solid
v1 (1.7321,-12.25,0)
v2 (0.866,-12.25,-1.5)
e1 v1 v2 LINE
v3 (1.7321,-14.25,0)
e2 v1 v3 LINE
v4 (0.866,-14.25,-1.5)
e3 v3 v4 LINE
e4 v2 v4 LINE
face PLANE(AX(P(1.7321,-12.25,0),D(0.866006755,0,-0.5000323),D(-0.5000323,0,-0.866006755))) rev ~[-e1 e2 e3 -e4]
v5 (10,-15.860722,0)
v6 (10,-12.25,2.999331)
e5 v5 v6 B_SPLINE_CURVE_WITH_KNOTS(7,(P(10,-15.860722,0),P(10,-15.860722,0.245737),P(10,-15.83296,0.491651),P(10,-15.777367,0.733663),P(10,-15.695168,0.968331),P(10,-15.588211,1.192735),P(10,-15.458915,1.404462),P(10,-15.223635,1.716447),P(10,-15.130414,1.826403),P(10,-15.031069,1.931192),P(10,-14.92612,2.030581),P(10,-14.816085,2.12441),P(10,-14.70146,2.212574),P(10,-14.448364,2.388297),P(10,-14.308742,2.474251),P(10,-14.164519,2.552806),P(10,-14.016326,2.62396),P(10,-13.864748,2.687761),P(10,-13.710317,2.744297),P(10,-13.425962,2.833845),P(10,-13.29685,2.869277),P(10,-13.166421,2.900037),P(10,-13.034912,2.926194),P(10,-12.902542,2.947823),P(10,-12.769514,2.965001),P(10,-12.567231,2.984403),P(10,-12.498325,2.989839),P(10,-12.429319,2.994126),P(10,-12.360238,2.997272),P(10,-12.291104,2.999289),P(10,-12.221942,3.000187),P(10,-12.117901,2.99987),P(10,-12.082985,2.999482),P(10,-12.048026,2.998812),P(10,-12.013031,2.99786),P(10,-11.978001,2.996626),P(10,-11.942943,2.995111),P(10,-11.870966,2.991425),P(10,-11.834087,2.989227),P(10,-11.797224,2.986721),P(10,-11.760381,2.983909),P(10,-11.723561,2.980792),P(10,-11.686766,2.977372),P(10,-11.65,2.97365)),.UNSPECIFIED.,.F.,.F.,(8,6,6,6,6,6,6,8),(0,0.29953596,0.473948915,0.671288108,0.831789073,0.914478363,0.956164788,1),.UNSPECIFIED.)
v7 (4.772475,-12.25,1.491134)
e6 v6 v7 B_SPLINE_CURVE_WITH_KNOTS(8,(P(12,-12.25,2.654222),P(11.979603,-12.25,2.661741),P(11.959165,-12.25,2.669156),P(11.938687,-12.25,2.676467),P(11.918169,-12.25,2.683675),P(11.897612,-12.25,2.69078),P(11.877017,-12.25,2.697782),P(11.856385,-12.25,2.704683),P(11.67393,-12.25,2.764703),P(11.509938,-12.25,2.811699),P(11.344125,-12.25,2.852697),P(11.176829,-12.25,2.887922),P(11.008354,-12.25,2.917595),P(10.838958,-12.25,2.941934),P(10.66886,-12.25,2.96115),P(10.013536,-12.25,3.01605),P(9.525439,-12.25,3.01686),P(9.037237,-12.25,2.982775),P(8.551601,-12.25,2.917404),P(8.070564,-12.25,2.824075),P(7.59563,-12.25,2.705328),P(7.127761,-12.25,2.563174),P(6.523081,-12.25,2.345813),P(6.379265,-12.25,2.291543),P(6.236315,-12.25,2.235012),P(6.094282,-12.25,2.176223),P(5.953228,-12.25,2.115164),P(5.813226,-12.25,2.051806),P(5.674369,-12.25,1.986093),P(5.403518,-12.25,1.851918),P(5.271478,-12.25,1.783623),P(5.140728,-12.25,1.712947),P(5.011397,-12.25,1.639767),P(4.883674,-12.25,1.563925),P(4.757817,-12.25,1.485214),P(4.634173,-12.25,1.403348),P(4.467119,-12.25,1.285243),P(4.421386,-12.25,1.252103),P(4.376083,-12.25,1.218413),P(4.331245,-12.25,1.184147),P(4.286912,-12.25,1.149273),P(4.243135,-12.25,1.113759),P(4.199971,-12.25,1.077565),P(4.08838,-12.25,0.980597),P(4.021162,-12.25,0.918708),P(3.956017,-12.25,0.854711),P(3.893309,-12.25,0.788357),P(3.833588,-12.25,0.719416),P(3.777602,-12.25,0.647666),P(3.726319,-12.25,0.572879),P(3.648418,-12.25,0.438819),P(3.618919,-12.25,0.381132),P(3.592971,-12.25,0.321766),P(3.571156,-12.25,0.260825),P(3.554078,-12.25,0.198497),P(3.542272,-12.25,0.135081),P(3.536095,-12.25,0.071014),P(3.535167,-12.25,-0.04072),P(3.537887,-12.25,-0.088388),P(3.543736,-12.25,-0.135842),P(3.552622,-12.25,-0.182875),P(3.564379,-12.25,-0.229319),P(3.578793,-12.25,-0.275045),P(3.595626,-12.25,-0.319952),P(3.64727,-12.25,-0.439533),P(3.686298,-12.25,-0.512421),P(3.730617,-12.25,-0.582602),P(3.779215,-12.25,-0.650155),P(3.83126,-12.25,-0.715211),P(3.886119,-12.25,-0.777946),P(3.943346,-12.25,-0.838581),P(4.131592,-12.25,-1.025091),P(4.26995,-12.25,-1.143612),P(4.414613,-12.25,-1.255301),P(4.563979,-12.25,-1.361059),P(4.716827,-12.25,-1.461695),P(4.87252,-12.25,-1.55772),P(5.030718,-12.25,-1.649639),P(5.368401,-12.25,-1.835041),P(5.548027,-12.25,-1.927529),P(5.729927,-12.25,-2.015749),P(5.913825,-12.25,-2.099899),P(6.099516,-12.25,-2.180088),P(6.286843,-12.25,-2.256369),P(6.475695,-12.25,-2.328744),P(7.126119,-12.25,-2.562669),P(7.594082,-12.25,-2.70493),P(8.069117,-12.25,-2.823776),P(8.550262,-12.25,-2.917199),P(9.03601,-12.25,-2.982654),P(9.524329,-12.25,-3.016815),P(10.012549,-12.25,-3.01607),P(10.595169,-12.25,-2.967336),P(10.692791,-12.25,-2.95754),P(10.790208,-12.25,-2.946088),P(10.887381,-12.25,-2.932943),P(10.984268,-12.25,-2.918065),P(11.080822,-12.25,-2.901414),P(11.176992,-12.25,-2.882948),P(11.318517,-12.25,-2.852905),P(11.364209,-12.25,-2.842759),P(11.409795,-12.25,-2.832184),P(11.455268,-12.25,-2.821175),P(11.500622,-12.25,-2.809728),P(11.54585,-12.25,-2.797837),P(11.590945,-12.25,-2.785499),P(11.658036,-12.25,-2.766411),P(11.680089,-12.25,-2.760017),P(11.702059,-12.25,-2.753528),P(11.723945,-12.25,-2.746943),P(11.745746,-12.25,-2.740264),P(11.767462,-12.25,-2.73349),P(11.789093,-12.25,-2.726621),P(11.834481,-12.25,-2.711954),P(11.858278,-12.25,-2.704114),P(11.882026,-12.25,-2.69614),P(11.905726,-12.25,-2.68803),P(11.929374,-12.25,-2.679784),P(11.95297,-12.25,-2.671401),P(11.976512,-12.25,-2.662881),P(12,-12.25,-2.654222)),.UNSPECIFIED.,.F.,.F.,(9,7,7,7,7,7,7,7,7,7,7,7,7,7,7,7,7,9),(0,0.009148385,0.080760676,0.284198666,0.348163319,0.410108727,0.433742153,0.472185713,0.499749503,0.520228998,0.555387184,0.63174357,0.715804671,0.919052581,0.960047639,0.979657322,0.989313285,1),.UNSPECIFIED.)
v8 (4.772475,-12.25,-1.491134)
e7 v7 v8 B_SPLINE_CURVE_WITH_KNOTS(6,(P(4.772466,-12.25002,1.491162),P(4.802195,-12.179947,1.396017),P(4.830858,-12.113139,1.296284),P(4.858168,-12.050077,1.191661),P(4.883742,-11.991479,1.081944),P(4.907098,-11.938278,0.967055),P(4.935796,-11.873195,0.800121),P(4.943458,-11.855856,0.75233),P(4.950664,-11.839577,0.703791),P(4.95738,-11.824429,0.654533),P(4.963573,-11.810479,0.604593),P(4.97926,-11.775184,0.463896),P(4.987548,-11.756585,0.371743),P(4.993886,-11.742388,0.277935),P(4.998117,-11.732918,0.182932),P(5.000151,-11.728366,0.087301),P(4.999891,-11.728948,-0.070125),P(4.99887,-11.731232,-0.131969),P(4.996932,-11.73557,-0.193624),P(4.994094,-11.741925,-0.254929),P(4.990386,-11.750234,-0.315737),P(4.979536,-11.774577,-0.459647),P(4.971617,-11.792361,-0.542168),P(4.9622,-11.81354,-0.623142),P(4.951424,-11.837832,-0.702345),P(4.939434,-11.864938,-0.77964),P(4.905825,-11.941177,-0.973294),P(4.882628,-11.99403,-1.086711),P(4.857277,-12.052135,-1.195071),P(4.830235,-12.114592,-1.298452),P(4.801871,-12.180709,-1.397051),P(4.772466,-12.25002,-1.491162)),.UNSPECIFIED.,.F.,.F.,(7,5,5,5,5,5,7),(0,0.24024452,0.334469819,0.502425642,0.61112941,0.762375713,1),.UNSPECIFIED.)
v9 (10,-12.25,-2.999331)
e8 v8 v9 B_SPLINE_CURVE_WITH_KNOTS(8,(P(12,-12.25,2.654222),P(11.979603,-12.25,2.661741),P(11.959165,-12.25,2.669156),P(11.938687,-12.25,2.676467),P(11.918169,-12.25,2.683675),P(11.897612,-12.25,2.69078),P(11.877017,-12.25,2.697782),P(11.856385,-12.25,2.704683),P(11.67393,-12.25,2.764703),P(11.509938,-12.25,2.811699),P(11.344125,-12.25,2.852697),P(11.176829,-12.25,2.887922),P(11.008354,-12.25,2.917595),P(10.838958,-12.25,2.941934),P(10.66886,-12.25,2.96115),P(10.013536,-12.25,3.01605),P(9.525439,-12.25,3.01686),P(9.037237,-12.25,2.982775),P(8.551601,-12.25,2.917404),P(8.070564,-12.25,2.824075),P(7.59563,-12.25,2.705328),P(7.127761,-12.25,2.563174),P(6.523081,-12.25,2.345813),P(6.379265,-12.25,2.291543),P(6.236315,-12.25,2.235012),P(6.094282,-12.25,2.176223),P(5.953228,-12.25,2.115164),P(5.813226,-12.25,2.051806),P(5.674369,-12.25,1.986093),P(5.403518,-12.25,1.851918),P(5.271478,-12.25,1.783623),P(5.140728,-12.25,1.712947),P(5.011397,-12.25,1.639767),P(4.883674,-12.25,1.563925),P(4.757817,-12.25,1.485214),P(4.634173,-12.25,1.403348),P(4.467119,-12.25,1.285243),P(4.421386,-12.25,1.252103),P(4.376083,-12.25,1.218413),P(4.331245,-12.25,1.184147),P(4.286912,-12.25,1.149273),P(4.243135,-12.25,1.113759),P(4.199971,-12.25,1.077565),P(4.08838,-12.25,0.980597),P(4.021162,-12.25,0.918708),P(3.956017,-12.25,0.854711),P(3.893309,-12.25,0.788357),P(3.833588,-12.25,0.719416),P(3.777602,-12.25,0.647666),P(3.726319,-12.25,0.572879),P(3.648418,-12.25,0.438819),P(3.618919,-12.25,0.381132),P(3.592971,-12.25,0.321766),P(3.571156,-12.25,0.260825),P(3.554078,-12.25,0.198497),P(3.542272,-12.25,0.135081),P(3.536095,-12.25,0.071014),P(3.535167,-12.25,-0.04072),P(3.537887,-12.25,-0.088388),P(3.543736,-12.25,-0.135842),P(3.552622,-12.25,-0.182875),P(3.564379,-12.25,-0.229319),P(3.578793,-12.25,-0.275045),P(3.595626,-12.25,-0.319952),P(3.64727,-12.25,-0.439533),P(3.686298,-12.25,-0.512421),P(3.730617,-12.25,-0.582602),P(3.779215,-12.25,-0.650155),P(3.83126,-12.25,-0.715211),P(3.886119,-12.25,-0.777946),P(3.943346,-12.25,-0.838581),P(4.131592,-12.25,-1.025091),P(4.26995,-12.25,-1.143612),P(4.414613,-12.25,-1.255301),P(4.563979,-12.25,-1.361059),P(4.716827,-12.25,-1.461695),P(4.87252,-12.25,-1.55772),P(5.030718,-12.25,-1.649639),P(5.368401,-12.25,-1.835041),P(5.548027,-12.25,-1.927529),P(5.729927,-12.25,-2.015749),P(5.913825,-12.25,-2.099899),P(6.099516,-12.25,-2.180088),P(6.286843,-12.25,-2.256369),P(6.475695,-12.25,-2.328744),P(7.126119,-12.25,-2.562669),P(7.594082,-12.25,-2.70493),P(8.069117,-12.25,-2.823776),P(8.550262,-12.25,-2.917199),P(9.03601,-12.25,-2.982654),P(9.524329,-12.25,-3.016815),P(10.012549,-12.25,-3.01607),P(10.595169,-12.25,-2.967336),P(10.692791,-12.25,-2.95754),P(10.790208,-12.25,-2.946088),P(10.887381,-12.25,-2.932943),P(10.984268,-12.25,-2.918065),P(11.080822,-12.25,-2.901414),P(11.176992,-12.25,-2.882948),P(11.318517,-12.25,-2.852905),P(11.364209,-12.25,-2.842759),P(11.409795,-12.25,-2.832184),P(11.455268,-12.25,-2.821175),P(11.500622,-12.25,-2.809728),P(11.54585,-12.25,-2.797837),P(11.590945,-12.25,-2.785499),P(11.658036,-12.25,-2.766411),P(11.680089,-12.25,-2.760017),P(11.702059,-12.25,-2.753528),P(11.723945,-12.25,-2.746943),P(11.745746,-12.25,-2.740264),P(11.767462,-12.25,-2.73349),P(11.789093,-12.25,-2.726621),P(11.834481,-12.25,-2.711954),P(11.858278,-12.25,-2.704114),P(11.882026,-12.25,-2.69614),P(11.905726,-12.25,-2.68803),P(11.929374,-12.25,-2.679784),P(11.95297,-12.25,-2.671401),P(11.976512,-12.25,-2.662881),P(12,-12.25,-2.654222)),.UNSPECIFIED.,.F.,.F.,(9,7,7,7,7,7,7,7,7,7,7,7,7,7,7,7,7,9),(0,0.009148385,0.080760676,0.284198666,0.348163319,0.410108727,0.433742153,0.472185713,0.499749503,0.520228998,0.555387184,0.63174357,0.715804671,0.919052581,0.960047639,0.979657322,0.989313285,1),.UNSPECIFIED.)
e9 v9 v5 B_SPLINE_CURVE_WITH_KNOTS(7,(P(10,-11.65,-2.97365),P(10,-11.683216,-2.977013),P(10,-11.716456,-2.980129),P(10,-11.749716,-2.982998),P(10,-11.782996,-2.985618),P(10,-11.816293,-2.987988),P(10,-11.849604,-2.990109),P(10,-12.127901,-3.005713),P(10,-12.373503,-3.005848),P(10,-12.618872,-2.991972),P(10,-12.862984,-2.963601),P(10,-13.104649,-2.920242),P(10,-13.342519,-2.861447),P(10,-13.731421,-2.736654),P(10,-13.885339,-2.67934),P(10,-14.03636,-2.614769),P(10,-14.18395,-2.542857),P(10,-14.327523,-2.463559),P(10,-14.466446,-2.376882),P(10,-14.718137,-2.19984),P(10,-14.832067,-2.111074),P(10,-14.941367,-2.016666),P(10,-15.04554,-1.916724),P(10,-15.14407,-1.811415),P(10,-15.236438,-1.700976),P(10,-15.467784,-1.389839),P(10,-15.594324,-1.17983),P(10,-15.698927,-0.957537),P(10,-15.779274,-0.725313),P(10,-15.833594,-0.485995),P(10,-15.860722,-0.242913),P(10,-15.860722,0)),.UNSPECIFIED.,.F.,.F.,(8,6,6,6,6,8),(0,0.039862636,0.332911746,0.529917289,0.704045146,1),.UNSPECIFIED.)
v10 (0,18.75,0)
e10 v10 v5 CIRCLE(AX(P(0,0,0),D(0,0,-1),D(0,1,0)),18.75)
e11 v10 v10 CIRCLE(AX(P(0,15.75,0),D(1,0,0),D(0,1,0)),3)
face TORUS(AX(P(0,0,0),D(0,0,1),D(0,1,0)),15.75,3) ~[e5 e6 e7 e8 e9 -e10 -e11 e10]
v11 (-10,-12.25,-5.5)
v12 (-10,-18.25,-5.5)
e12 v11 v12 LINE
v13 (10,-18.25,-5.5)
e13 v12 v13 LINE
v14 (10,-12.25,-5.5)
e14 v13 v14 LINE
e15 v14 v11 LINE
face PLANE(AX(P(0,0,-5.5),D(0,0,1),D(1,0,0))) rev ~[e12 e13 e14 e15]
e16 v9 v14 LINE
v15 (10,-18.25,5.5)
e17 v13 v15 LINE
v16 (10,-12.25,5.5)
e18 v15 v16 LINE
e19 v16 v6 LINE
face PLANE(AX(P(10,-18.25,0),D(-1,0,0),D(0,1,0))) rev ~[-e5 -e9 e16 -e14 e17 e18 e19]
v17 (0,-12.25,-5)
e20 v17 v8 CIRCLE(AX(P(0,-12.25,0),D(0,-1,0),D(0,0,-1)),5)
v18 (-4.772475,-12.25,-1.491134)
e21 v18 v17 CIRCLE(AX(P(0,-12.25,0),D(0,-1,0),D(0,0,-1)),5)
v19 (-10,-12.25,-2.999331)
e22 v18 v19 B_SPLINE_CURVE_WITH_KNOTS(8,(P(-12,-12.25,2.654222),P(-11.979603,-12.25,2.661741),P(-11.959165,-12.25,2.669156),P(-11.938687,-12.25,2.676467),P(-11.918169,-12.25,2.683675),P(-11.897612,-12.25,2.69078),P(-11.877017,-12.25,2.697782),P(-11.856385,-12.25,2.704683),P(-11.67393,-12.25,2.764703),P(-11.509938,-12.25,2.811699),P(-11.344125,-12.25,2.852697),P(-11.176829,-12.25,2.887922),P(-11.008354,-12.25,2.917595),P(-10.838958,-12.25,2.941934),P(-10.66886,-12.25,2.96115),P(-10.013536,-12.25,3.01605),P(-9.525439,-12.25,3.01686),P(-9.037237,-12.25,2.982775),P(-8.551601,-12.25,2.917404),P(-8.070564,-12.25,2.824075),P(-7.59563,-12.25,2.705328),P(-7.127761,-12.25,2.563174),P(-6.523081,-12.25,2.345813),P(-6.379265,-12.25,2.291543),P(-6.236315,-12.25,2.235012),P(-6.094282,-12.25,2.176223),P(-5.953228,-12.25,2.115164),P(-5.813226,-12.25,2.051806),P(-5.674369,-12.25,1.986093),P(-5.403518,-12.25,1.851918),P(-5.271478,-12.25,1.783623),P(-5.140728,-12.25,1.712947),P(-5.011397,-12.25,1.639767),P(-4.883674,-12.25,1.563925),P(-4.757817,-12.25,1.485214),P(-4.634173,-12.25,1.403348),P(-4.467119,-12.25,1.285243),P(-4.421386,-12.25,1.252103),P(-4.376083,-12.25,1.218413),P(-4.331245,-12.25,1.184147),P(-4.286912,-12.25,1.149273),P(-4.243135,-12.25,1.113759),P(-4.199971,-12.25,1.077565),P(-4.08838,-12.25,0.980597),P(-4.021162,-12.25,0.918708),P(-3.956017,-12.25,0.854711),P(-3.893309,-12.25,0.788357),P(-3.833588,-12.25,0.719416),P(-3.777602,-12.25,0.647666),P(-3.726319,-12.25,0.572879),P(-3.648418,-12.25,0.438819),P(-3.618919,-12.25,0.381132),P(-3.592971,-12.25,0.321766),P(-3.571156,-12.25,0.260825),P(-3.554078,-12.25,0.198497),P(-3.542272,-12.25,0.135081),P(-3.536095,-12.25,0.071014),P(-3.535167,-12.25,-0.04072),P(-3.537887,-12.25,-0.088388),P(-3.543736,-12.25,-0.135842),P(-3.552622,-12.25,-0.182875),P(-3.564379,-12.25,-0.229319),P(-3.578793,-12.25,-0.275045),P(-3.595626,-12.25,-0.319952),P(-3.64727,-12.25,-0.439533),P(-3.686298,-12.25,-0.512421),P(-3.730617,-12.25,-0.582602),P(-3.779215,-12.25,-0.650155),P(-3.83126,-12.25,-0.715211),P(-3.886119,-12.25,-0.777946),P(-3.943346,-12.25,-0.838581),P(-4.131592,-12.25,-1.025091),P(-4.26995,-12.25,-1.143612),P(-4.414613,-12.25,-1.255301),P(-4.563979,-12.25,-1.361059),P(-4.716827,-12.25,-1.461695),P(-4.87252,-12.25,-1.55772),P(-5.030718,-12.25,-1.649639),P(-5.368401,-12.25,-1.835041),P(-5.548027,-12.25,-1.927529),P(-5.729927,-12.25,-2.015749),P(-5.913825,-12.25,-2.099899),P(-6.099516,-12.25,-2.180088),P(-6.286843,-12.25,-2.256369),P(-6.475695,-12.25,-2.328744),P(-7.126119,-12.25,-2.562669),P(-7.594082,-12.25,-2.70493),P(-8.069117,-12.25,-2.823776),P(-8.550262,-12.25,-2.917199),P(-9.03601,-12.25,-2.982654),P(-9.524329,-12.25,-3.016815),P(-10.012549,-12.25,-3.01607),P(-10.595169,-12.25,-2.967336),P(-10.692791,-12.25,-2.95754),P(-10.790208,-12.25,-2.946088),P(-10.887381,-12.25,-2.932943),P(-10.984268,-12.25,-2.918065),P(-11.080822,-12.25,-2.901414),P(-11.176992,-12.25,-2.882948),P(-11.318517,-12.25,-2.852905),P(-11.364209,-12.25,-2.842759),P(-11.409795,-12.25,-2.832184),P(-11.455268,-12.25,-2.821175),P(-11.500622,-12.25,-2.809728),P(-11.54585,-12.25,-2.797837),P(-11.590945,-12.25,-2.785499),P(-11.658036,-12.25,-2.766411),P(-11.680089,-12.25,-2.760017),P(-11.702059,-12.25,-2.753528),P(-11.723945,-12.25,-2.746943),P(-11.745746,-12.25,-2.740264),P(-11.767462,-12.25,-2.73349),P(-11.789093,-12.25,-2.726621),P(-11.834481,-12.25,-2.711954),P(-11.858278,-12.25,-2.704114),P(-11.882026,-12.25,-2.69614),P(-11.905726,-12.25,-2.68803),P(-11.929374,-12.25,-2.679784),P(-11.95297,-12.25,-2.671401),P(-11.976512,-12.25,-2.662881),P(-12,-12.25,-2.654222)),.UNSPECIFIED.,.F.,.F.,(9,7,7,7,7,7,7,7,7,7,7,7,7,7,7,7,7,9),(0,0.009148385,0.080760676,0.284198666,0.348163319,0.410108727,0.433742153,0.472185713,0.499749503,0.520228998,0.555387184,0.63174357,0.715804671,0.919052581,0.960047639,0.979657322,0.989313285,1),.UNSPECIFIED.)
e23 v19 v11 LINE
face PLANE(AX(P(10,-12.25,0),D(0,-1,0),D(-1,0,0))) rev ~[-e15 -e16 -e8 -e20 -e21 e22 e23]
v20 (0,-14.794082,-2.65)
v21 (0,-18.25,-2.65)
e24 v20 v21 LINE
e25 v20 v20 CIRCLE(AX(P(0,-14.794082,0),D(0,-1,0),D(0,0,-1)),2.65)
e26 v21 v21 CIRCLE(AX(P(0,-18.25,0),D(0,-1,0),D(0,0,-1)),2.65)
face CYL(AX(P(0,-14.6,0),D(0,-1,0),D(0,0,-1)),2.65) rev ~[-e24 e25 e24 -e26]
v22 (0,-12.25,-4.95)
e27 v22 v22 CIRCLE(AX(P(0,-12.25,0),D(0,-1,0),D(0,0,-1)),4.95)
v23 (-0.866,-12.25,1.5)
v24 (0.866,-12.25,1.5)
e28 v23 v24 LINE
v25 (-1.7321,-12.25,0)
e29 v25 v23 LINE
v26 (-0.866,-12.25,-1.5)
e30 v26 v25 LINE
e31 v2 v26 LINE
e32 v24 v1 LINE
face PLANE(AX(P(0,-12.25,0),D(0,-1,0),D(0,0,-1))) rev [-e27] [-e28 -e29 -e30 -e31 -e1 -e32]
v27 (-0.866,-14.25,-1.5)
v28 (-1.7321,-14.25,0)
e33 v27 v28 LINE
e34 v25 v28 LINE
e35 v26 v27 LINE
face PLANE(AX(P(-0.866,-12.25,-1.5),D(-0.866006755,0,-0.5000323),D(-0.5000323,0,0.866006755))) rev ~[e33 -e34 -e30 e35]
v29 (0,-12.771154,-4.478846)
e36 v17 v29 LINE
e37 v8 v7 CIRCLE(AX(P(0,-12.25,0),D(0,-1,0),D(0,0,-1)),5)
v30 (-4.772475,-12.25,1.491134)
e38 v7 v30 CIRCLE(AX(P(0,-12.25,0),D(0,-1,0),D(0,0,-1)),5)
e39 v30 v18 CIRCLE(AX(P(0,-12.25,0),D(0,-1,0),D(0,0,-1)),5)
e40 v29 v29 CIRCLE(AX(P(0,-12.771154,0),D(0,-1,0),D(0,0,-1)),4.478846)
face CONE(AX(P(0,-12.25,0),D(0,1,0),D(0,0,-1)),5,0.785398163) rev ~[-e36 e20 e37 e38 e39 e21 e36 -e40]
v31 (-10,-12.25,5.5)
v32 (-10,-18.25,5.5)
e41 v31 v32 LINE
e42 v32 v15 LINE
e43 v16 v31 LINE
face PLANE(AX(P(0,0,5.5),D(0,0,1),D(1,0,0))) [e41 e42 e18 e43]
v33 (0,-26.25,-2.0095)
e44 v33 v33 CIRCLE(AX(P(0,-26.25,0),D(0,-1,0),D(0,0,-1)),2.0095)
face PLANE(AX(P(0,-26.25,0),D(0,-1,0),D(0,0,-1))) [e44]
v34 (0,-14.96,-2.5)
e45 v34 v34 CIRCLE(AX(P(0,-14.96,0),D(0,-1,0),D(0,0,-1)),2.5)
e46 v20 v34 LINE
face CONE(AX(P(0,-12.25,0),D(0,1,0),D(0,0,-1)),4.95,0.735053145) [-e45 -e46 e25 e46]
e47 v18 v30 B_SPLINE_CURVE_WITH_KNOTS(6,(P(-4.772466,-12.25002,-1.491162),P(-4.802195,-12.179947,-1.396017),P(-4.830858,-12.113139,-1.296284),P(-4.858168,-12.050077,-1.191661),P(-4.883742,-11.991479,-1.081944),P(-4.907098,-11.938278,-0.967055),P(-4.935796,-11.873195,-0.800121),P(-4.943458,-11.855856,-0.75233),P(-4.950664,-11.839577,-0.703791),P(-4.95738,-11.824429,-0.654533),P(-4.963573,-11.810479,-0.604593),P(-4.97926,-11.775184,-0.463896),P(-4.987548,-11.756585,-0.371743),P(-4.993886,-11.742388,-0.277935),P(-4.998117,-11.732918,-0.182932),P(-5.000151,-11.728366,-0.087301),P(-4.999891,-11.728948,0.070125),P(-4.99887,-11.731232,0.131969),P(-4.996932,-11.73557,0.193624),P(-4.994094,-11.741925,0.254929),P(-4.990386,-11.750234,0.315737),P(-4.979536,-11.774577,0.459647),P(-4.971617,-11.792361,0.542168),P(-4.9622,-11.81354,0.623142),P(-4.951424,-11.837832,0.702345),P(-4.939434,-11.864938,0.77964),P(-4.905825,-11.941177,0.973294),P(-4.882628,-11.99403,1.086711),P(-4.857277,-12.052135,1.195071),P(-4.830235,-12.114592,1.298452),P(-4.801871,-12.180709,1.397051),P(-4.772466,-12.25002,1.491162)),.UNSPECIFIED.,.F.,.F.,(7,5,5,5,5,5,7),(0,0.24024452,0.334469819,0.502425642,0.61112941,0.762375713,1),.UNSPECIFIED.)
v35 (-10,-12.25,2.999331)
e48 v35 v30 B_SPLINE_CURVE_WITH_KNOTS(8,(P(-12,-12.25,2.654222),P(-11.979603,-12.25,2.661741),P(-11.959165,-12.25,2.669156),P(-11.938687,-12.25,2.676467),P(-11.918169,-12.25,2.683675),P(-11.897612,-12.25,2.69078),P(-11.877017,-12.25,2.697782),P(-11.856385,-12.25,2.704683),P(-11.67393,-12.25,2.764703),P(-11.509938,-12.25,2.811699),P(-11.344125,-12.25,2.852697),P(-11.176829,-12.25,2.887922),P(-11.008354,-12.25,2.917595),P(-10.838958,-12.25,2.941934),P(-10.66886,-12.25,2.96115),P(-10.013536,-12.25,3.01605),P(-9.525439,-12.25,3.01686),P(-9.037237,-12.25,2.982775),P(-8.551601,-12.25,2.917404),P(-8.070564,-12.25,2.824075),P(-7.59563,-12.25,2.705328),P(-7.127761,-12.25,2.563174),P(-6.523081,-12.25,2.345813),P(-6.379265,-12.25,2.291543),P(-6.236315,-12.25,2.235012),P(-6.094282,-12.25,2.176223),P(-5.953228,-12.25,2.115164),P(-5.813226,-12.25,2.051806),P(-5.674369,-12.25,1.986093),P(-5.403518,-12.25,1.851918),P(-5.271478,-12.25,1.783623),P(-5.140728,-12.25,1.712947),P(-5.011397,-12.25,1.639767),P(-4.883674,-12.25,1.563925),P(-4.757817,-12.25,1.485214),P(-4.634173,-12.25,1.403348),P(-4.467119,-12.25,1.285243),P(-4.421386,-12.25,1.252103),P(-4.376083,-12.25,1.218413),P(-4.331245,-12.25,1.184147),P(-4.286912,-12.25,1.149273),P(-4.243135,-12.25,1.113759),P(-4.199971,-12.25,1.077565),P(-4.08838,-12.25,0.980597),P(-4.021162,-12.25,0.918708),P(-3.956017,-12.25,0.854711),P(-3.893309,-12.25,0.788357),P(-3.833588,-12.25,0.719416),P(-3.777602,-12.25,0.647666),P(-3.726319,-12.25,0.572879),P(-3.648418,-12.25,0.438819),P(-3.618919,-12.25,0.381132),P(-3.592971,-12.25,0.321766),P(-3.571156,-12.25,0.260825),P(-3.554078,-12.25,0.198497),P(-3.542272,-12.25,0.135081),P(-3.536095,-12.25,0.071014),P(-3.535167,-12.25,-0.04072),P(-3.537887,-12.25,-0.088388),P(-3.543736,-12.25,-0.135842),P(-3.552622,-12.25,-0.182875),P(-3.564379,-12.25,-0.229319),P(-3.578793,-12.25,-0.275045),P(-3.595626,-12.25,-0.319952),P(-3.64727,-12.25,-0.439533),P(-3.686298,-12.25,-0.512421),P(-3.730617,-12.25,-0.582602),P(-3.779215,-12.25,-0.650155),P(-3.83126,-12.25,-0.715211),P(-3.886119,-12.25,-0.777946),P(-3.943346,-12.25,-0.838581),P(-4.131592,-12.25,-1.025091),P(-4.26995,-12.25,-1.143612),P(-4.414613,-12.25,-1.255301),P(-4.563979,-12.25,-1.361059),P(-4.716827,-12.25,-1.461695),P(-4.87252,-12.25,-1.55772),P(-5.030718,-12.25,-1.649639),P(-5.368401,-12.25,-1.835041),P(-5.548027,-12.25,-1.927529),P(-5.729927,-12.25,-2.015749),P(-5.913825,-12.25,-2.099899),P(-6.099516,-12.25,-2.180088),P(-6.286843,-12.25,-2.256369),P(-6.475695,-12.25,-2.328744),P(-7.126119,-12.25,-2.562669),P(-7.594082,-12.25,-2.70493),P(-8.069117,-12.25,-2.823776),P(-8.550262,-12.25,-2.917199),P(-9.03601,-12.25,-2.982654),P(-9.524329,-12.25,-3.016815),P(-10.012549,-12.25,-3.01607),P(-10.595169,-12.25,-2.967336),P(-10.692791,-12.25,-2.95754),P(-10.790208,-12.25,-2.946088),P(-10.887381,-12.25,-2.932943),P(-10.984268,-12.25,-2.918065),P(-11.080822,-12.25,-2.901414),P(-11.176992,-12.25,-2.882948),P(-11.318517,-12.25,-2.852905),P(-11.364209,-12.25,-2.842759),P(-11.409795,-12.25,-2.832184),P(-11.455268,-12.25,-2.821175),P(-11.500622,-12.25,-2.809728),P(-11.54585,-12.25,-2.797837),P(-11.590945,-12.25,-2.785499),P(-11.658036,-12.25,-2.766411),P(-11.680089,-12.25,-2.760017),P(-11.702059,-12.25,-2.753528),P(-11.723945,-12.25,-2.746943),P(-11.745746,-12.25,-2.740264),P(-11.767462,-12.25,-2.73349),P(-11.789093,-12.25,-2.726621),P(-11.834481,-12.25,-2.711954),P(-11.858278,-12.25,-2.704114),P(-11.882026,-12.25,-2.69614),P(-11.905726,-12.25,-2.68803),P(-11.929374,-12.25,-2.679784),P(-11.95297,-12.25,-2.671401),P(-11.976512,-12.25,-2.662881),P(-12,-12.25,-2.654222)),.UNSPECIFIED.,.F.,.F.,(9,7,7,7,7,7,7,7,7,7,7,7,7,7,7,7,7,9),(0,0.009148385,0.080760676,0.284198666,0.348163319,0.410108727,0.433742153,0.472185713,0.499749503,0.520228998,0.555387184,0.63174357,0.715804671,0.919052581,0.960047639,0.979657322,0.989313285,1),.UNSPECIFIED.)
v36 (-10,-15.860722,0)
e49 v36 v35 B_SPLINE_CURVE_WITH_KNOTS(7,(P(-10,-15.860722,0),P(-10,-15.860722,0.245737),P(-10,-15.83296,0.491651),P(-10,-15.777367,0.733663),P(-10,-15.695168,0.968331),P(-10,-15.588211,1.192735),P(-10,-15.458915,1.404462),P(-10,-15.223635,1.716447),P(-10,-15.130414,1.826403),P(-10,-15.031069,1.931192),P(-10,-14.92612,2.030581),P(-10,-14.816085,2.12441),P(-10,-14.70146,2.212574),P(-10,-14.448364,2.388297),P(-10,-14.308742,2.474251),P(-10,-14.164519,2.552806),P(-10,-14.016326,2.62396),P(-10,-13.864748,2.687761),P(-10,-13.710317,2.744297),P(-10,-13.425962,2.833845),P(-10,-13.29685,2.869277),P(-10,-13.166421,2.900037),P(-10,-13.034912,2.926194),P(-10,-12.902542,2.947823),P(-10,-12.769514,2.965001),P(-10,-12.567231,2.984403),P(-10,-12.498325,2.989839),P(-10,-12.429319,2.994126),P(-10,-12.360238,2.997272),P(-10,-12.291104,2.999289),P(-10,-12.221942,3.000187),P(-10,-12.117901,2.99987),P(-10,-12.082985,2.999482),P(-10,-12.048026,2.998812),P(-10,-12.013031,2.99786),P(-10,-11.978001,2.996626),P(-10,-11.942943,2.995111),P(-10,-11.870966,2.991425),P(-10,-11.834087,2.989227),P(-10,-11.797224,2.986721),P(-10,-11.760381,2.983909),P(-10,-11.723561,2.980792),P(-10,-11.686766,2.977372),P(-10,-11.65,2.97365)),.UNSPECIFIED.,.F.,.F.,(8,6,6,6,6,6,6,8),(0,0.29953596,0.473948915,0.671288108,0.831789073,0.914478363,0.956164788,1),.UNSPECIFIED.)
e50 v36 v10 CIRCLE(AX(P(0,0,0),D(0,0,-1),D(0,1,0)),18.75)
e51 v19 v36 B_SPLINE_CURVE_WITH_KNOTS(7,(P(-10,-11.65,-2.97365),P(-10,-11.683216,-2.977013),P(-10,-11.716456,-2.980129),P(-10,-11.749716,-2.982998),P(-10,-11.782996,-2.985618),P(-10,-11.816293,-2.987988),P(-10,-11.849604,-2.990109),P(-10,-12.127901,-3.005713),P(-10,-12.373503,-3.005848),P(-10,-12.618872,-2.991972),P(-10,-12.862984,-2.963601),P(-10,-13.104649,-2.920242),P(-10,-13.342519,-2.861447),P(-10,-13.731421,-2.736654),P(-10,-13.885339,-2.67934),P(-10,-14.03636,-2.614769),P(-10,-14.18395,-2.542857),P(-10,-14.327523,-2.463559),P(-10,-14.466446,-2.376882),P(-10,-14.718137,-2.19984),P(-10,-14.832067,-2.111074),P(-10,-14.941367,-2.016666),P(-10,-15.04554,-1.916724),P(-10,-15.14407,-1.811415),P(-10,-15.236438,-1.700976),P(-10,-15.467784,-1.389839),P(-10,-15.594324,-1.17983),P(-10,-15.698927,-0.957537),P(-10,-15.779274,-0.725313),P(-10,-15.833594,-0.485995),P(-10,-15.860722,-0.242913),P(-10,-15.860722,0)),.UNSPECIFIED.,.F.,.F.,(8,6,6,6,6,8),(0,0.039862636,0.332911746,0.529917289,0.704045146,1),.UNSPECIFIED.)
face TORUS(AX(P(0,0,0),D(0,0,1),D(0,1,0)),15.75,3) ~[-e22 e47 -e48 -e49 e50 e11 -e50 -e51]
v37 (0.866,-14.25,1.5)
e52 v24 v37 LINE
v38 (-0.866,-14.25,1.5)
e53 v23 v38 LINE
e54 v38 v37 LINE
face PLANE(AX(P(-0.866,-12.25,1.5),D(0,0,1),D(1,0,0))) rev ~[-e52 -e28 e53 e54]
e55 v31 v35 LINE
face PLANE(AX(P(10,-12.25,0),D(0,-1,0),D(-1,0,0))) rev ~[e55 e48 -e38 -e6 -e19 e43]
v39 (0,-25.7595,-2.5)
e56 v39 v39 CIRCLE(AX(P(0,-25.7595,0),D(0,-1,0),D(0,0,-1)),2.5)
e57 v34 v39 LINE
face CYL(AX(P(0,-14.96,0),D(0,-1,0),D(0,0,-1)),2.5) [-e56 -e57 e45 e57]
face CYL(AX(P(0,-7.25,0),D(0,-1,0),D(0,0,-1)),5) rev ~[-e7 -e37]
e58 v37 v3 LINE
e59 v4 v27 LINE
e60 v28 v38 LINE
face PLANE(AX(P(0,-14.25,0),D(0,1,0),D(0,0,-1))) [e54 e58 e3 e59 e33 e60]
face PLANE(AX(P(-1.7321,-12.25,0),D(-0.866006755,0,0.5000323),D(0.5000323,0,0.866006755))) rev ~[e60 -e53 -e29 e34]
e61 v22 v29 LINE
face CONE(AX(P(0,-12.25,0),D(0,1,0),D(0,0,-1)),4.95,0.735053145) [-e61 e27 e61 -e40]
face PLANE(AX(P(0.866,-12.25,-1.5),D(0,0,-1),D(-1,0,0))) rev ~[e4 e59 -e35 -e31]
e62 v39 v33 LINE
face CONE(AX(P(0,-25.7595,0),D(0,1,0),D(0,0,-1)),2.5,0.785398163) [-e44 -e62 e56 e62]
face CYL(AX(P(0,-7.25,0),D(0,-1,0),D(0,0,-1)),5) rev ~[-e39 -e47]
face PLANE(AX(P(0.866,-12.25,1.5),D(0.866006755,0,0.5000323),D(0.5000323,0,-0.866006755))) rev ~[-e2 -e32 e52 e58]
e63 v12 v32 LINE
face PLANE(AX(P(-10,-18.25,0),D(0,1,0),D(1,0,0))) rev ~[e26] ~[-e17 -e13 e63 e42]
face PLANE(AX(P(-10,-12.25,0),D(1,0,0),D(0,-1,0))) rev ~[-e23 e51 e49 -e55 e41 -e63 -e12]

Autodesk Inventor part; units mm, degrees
sketch "Sketch_1" plane through (0, 0, 0) normal (1, 0, 0) x (0, 1, 0)
  line L0 (0, -50) -> (0, 50)
  circle A0 centre (15.75, 0) radius 3
revolve "Revolution1" add sketch "Sketch_1" angle 360 about axis through (0, 0, -50) along (0, 0, -1)
sketch "Sketch_3" plane through (0, 0, 0) normal (0, 0, 1) x (1, 0, 0)
  line L0 (-20, -23.25) -> (20, -23.25)
  line L1 (20, -23.25) -> (20, -18.25)
  line L2 (20, -18.25) -> (-20, -18.25)
  line L3 (-20, -18.25) -> (-20, -23.25)
sketch "Sketch_2" plane through (0, 0, 0) normal (0, 0, 1) x (1, 0, 0)
  line L0 (-10, -18.25) -> (10, -18.25)
  line L1 (10, -18.25) -> (10, -12.25)
  line L2 (10, -12.25) -> (-10, -12.25)
  line L3 (-10, -12.25) -> (-10, -18.25)
extrude "Extrusion1" add sketch "Sketch_2" along normal mid plane 11
extrude "Extrusion2" cut sketch "Sketch_3" along normal mid plane 11
sketch "Sketch_4" plane through (0, 0, 0) normal (1, 0, 0) x (0, 1, 0)
  line L0 (-50, 0) -> (50, 0)
  line L1 (-7.25, 0) -> (-7.25, -5)
  line L2 (-7.25, -5) -> (-12.25, -5)
  line L3 (-12.25, -5) -> (-14.6, -2.65)
  line L4 (-14.6, -2.65) -> (-18.25, -2.65)
  line L5 (-18.25, -2.65) -> (-18.25, 0)
  line L6 (-18.25, 0) -> (-7.25, 0)
revolve "Revolution2" cut sketch "Sketch_4" angle 360 about axis through (0, -50, 0) along (0, -1, 0)
sketch "Sketch_5" plane through (0, 0, 0) normal (1, 0, 0) x (0, 1, 0)
  line L0 (-26.25, 0) -> (-12.25, 0)
  line L1 (-12.25, 0) -> (-12.25, -4.95)
  line L2 (-12.25, -4.95) -> (-14.96, -2.5)
  line L3 (-14.96, -2.5) -> (-25.7595, -2.5)
  line L4 (-25.7595, -2.5) -> (-26.25, -2.0095)
  line L5 (-26.25, -2.0095) -> (-26.25, 0)
  line L6 (-26.25, 0) -> (-12.25, 0)
revolve "Revolution3" add sketch "Sketch_5" angle 360 about axis through (0, -26.25, 0) along (0, -1, 0)
thread "Thread1" size "M5x0.8" class "6g" standard "ISO Metric profile" length 10 offset 1.29
sketch "Sketch_6" plane through (0, -12.25, 0) normal (0, 1, 0) x (0, 0, -1)
  line L0 (-1.5, 0.866) -> (-1.5, -0.866)
  line L1 (-1.5, -0.866) -> (0, -1.7321)
  line L2 (0, -1.7321) -> (1.5, -0.866)
  line L3 (1.5, -0.866) -> (1.5, 0.866)
  line L4 (1.5, 0.866) -> (0, 1.7321)
  line L5 (0, 1.7321) -> (-1.5, 0.866)
extrude "Extrusion3" cut sketch "Sketch_6" against normal blind 2
ref_plane "side_1_XY" through (0, -18.25, 0) normal (0, -1, 0) x (1, 0, 0)
ref_plane "side_1_YZ" through (0, -18.25, 0) normal (1, 0, 0) x (0, 0, 1)
ref_plane "side_1_ZX" through (0, -18.25, 0) normal (0, 0, 1) x (0, -1, 0)
properties part number "May Tec 1.71.30365_Installation ring_36.5"
